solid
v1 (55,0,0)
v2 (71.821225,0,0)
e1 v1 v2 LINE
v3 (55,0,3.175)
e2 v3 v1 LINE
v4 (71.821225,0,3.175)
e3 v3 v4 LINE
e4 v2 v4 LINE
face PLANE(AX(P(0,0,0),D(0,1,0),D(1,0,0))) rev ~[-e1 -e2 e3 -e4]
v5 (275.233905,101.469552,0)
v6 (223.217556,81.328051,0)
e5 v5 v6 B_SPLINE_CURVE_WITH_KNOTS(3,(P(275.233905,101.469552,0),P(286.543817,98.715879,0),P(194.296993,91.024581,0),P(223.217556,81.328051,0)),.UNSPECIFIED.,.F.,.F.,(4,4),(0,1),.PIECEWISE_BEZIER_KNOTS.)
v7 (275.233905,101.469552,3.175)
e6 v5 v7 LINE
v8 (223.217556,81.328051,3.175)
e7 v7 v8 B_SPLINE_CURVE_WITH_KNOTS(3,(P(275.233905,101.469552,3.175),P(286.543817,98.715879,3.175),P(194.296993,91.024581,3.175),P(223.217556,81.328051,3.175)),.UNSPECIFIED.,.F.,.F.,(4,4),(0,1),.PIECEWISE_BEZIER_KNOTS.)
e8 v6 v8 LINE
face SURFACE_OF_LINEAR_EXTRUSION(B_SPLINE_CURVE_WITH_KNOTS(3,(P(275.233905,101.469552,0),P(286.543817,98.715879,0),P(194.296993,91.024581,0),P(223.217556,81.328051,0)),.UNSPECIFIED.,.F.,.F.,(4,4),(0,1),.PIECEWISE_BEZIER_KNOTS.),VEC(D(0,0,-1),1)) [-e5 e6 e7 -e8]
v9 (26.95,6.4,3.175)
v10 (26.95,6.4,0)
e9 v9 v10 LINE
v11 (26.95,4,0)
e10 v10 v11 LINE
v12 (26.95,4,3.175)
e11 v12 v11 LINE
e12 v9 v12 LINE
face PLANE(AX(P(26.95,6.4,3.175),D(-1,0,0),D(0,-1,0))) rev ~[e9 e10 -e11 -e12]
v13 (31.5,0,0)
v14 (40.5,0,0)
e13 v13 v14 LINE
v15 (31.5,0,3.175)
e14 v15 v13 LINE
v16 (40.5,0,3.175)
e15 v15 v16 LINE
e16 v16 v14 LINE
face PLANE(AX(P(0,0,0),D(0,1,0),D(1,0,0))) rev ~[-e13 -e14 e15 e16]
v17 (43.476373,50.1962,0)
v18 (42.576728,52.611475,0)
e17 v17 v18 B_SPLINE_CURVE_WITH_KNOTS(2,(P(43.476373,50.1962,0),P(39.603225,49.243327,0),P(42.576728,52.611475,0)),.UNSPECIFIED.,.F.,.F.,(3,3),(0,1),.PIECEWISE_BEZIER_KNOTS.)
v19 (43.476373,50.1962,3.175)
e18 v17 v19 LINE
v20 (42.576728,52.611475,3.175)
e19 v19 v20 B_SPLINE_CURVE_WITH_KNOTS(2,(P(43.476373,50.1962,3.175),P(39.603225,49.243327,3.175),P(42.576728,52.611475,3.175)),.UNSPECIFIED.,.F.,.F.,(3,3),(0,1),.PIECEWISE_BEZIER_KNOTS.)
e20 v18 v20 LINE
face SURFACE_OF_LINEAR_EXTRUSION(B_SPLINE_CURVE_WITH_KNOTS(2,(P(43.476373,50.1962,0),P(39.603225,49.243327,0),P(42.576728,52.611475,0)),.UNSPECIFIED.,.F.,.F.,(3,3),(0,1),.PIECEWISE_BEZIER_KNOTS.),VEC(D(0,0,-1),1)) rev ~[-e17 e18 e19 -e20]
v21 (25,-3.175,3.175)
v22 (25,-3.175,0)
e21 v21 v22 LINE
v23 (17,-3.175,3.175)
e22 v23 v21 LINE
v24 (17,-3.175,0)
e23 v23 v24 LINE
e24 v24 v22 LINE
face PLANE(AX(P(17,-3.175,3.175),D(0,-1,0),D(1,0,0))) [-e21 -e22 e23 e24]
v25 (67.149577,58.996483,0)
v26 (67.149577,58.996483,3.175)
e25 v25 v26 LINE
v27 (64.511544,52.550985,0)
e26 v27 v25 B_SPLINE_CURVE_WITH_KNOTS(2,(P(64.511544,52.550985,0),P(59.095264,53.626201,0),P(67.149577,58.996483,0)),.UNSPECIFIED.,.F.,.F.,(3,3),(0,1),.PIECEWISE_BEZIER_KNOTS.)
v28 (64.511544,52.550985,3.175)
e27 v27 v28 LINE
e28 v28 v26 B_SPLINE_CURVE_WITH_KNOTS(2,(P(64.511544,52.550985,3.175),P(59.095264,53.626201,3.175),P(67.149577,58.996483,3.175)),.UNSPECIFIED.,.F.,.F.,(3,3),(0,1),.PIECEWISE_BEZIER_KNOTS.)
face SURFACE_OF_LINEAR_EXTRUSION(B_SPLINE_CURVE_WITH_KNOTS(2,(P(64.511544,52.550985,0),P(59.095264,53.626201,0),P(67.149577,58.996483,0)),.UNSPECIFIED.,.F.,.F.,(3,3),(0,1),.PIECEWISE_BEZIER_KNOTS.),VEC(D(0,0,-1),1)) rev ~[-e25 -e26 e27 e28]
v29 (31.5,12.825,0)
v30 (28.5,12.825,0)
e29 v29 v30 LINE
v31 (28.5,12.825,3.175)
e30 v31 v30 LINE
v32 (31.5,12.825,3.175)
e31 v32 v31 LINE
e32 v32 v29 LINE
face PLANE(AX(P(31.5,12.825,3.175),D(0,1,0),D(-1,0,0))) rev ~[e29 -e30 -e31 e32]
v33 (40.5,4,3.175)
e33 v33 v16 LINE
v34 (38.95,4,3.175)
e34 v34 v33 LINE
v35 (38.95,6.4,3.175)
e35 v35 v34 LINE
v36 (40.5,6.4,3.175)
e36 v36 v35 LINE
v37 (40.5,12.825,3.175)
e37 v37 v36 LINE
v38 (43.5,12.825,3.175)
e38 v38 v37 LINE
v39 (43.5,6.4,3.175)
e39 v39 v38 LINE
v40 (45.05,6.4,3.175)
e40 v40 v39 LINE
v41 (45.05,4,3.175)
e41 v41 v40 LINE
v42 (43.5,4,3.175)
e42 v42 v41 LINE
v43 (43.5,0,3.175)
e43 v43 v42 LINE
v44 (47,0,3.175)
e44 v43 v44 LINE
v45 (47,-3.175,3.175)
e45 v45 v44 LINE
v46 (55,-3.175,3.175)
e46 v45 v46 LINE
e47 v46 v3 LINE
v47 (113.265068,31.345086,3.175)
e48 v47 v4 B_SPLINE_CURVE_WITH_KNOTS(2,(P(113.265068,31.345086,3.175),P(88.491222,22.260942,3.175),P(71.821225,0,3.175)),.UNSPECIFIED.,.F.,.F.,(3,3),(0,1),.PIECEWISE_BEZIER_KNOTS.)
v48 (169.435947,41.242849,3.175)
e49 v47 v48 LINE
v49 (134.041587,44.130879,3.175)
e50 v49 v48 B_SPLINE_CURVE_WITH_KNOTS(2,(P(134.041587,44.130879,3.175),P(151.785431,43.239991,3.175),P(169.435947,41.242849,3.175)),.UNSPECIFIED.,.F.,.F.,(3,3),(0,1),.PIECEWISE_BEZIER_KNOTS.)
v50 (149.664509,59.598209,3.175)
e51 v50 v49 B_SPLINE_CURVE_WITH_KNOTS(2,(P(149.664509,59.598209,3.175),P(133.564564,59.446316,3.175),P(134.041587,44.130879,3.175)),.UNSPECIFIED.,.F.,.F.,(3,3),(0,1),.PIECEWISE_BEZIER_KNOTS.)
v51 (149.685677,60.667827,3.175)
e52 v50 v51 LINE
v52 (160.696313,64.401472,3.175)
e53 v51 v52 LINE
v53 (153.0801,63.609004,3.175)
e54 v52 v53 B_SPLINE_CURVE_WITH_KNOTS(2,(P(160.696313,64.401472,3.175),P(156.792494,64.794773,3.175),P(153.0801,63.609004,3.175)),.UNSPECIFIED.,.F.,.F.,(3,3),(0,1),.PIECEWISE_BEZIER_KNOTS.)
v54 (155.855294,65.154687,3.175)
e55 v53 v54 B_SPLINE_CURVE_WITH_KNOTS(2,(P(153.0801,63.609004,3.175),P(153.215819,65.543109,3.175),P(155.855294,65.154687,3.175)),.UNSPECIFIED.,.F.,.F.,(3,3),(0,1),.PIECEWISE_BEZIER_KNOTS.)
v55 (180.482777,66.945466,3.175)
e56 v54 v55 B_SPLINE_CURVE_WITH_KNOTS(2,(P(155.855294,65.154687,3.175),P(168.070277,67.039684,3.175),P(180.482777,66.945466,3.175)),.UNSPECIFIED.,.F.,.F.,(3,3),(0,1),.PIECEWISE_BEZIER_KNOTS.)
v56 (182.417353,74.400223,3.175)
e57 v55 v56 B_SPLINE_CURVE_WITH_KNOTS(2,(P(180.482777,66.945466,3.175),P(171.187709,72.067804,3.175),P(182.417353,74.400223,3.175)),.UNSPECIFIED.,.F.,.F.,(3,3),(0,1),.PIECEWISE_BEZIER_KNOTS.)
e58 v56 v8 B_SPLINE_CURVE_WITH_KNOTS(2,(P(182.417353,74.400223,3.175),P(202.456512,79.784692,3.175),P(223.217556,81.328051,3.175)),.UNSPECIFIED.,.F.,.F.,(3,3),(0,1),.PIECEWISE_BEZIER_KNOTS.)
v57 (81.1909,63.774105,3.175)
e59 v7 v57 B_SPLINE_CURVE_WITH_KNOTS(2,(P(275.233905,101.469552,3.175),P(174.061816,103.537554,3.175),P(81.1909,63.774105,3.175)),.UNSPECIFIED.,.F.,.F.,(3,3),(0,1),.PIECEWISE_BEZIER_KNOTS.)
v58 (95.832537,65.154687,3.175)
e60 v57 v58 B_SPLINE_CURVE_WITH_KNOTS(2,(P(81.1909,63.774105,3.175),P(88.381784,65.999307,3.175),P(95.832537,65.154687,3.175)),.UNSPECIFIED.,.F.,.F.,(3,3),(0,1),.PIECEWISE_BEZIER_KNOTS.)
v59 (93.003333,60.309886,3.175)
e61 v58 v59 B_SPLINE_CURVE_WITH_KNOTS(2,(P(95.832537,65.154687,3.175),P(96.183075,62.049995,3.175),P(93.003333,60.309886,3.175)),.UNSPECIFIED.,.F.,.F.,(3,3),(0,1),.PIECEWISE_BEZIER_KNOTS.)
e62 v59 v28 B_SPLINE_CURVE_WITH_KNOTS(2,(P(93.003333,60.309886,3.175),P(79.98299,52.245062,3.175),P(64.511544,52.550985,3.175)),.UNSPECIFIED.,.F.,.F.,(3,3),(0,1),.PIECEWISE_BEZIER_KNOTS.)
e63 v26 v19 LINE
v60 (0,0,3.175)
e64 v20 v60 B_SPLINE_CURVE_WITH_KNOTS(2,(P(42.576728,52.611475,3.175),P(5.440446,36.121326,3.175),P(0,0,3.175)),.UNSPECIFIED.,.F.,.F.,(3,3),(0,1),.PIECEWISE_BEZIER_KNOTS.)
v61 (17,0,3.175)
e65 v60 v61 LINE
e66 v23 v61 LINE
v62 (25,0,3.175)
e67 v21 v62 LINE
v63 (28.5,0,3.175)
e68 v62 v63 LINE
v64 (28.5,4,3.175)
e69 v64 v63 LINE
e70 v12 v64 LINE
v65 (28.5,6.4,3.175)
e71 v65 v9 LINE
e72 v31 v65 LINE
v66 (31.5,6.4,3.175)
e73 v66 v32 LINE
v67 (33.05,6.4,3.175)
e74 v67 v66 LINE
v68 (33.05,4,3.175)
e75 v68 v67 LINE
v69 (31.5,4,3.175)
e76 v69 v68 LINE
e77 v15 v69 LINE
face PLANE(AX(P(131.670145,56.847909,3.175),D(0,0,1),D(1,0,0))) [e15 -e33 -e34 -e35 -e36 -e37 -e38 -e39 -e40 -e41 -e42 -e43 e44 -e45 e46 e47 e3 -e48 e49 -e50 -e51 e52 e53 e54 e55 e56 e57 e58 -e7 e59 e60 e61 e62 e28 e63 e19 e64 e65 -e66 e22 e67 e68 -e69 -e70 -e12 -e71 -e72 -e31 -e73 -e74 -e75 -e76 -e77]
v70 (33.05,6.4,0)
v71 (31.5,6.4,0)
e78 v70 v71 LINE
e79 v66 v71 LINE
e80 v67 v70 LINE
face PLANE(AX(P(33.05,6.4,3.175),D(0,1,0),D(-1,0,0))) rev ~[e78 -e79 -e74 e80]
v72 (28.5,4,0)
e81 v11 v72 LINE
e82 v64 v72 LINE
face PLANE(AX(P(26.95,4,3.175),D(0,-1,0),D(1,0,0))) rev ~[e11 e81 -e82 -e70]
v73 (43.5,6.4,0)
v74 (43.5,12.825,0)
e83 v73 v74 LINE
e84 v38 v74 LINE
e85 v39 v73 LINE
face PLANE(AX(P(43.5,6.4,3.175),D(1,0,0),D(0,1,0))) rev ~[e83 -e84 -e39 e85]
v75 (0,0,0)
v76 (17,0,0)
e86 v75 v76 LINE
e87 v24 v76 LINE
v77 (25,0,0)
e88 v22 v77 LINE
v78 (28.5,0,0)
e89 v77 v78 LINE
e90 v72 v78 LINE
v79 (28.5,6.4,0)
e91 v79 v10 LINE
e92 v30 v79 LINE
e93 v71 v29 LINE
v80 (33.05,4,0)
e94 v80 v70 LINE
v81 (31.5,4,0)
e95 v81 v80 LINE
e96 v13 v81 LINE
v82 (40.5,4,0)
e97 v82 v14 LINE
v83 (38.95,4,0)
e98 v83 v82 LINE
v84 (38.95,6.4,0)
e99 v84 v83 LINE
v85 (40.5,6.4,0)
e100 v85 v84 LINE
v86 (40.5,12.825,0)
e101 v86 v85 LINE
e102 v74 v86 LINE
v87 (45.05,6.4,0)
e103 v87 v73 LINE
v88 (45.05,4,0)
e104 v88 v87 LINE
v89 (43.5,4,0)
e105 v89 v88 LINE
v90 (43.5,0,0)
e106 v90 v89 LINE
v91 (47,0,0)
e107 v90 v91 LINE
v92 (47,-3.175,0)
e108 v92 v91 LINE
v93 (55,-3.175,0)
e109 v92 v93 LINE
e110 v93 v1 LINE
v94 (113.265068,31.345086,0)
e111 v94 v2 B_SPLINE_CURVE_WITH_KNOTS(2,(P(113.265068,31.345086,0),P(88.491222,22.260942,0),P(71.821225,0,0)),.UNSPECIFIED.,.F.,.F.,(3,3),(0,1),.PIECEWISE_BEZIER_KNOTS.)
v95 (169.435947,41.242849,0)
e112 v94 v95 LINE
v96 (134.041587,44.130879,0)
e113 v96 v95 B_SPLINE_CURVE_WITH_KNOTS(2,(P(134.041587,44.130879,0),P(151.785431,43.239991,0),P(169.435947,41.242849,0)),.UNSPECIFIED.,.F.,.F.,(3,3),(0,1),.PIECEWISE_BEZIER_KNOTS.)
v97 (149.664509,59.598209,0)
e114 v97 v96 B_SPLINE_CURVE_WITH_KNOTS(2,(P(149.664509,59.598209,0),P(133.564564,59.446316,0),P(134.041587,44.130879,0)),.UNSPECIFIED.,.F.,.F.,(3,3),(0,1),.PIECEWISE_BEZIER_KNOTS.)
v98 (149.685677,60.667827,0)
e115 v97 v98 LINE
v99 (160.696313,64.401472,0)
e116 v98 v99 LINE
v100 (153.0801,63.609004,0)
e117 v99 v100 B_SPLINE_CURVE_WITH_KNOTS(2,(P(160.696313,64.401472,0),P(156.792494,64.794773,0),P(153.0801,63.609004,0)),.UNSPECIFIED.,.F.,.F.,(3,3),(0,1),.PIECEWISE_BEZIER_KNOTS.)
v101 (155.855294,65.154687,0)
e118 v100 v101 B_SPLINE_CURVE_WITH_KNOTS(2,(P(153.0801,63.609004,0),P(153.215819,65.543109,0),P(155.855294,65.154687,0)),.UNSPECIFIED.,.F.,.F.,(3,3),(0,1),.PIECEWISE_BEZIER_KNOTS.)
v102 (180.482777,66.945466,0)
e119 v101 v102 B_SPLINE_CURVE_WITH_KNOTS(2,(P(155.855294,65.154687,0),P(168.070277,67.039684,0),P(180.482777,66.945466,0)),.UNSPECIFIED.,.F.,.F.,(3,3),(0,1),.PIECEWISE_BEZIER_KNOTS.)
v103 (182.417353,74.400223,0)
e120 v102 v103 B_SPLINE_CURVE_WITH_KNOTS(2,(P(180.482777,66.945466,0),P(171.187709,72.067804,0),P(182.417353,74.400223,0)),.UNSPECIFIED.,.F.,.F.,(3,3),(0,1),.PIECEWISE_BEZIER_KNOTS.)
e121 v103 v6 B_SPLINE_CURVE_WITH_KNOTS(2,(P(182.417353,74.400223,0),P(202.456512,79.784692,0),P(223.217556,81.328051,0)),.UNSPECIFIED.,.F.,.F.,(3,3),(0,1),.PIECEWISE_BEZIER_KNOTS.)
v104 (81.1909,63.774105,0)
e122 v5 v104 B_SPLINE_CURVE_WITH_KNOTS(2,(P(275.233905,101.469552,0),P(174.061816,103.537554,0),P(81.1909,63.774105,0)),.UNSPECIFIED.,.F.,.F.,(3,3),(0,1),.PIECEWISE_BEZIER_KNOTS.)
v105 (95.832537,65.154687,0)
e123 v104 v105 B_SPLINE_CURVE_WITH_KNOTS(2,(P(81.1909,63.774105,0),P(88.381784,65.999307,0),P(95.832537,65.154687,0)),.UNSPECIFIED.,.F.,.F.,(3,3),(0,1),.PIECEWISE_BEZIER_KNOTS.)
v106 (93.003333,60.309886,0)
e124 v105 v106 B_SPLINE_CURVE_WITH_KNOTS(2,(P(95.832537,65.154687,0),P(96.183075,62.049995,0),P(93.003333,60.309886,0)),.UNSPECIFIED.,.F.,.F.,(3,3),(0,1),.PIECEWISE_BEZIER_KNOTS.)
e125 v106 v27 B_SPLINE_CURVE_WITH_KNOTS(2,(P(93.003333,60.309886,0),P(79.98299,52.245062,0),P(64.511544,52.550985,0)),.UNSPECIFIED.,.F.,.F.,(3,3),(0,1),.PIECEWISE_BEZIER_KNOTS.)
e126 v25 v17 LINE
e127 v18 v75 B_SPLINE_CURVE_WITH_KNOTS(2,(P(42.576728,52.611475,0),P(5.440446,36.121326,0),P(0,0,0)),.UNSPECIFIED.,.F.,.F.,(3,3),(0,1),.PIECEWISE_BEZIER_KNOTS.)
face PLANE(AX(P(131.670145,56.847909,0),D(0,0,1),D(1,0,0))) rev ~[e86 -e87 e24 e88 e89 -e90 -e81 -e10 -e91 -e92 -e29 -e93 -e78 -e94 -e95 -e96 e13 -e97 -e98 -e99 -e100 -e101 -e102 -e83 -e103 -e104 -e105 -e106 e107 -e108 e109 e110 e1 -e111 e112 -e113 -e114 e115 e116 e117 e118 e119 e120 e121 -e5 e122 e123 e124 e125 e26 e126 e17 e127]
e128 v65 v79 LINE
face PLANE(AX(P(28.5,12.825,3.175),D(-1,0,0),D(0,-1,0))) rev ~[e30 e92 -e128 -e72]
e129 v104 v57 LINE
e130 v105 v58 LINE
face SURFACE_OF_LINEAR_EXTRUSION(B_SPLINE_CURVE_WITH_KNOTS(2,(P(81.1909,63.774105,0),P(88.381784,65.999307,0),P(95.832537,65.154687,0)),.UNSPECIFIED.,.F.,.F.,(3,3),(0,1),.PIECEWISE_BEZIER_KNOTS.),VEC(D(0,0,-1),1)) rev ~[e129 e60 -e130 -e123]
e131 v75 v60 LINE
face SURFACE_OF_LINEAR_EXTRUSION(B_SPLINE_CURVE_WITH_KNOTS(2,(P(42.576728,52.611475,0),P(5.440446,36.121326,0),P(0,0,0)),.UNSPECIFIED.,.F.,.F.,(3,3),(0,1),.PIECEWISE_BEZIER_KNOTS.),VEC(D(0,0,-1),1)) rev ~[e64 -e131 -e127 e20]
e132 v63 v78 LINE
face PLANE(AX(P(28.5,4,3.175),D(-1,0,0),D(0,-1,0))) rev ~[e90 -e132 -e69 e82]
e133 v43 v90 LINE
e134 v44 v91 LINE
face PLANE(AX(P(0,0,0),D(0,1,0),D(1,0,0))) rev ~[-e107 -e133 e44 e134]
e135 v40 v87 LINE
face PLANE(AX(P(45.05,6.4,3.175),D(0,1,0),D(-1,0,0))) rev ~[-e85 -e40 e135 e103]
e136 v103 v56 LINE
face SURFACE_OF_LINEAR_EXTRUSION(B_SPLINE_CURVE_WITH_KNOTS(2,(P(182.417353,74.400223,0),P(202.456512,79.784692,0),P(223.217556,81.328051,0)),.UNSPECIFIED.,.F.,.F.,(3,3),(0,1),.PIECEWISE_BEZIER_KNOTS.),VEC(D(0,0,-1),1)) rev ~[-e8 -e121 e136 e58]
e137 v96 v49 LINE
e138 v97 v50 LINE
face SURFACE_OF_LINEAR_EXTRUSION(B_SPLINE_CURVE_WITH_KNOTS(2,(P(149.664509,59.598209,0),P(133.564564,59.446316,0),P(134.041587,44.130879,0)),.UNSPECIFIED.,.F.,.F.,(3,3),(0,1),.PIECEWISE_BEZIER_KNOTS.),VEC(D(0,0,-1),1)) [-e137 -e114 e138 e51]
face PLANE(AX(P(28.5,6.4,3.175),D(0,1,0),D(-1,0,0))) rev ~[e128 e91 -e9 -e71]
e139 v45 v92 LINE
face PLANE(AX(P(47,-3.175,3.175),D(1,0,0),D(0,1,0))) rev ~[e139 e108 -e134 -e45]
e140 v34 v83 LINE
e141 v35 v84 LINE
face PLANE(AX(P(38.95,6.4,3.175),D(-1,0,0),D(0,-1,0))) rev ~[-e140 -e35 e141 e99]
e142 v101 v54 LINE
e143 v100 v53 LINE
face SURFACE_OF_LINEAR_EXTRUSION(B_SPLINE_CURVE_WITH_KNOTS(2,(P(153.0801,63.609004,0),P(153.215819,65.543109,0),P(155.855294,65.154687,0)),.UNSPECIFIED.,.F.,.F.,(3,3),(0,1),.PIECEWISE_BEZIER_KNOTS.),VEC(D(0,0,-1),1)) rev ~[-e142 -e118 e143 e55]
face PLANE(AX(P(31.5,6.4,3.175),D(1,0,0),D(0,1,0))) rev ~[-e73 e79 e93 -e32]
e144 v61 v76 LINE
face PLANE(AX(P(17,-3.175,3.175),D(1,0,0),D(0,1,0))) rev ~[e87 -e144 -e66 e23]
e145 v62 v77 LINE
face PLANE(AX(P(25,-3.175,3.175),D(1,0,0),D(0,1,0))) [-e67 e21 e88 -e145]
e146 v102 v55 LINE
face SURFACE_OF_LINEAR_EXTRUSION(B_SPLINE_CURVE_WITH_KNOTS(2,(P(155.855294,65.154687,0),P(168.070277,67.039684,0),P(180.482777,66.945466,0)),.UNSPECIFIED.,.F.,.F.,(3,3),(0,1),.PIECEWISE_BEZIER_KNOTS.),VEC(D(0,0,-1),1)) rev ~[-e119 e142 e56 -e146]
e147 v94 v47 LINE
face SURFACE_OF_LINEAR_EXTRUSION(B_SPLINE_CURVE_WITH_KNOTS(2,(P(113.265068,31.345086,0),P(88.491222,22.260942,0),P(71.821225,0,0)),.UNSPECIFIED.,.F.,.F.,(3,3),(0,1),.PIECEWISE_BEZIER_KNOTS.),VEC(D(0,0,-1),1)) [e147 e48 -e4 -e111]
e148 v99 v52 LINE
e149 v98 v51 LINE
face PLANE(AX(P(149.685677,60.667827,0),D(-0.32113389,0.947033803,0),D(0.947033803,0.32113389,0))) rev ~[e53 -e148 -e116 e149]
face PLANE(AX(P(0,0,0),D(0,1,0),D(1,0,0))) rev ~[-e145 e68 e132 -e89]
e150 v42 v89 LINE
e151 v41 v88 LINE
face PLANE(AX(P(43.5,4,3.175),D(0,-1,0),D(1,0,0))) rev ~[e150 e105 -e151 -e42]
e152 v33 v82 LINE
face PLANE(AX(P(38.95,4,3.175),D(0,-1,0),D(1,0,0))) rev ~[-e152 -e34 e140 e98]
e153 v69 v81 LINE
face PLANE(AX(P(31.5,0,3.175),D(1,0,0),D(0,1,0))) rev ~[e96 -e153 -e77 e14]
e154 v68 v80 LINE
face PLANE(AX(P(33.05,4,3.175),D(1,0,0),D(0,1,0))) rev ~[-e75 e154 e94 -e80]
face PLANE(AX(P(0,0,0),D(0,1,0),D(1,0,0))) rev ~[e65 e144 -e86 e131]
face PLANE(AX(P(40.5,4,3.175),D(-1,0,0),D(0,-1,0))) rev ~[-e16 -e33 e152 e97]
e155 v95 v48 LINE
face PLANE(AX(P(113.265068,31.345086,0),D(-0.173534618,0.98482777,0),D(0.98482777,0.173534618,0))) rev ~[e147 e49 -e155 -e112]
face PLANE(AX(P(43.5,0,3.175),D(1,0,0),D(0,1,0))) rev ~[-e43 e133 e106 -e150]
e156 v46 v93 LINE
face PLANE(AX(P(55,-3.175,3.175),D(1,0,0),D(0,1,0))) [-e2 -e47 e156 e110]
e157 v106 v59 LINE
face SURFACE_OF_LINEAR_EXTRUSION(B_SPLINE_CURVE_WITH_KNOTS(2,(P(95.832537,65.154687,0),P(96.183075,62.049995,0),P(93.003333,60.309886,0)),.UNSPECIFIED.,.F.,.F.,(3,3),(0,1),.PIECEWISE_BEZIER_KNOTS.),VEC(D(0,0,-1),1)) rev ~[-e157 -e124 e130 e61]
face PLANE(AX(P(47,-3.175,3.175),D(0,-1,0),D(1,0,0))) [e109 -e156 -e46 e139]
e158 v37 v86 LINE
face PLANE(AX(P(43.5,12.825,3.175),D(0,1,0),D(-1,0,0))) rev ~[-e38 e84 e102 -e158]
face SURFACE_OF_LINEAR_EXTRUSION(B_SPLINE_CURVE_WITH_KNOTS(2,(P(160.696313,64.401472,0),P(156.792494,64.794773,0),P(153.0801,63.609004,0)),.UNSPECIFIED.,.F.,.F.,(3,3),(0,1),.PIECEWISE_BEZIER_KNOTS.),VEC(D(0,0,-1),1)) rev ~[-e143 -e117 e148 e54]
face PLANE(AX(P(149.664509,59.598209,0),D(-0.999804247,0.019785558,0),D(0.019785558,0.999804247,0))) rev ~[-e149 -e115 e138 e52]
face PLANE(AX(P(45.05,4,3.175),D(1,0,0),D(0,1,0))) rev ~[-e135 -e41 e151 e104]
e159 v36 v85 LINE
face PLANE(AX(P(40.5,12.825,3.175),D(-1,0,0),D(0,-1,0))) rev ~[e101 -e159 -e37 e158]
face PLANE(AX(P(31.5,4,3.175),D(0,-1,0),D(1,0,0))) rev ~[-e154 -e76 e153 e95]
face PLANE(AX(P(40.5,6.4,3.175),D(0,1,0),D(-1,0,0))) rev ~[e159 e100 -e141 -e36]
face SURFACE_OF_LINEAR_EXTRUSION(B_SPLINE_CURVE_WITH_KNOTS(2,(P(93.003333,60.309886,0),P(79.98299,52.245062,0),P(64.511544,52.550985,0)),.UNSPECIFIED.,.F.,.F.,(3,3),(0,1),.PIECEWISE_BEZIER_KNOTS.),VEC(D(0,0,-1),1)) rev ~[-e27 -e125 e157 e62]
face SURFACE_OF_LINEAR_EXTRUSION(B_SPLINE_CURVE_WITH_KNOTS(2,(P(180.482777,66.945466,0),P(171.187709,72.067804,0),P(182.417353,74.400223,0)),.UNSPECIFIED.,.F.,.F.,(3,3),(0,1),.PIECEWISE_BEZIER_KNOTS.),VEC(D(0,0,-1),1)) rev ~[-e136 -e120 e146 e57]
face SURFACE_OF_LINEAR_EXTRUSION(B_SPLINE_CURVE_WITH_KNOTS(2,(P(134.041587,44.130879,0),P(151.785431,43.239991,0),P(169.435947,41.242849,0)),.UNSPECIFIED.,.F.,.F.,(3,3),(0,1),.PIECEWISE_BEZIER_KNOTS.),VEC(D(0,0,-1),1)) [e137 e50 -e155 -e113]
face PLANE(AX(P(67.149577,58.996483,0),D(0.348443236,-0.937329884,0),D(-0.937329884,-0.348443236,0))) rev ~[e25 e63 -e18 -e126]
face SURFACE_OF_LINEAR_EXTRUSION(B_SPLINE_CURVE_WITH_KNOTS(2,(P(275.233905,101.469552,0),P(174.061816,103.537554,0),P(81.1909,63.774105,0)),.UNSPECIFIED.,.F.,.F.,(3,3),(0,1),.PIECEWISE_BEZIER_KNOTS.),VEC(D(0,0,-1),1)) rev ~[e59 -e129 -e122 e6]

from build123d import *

# Parameters (mm, degrees)
BOSS_EXTRUDE1_DEPTH = 3.175
SKETCH3_W           = 8
SKETCH3_H           = 3.175
BOSS_EXTRUDE2_DEPTH = 3.175
CUT_EXTRUDE1_DEPTH  = 295.302026077


with BuildPart() as part:
    # Sketch2 → Boss-Extrude1 (new body)
    with BuildSketch(Plane.XY):
        with BuildLine():
            Line((0, 0), (71.821224644, 0))
            add(Edge.make_bspline(
                [(113.265068403, 31.345085694), (88.49122235, 22.260941948), (71.821224644, 0)],
                knots=[0, 0, 0, 1, 1, 1], degree=2))
            Line((113.265068403, 31.345085694), (169.435947463, 41.242848876))
            add(Edge.make_bspline(
                [(134.041587412, 44.130878692), (151.78543129, 43.239991284), (169.435947463, 41.242848876)],
                knots=[0, 0, 0, 1, 1, 1], degree=2))
            add(Edge.make_bspline(
                [(149.664509426, 59.598208841), (133.564564098, 59.446315657), (134.041587412, 44.130878692)],
                knots=[0, 0, 0, 1, 1, 1], degree=2))
            Line((149.664509426, 59.598208841), (149.685676558, 60.6678268))
            Line((149.685676558, 60.6678268), (160.696312712, 64.401472217))
            add(Edge.make_bspline(
                [(160.696312712, 64.401472217), (156.792494019, 64.794773064), (153.080099679, 63.60900386)],
                knots=[0, 0, 0, 1, 1, 1], degree=2))
            add(Edge.make_bspline(
                [(153.080099679, 63.60900386), (153.21581852, 65.543109048), (155.855294119, 65.154686594)],
                knots=[0, 0, 0, 1, 1, 1], degree=2))
            add(Edge.make_bspline(
                [(155.855294119, 65.154686594), (168.070276532, 67.039683705), (180.482777211, 66.945466473)],
                knots=[0, 0, 0, 1, 1, 1], degree=2))
            add(Edge.make_bspline(
                [(180.482777211, 66.945466473), (171.187708605, 72.067803505), (182.417352528, 74.400222782)],
                knots=[0, 0, 0, 1, 1, 1], degree=2))
            add(Edge.make_bspline(
                [(182.417352528, 74.400222782), (202.456511943, 79.784692432), (223.217555695, 81.328050857)],
                knots=[0, 0, 0, 1, 1, 1], degree=2))
            add(Edge.make_bspline(
                [(275.233904512, 101.469551945), (286.543816843, 98.715878969), (194.296992898, 91.024580871), (223.217555695, 81.328050857)],
                knots=[0, 0, 0, 0, 1, 1, 1, 1], degree=3))
            add(Edge.make_bspline(
                [(275.233904512, 101.469551945), (174.061816158, 103.537553967), (81.190900328, 63.774105239)],
                knots=[0, 0, 0, 1, 1, 1], degree=2))
            add(Edge.make_bspline(
                [(81.190900328, 63.774105239), (88.381783724, 65.999307209), (95.832537282, 65.154686594)],
                knots=[0, 0, 0, 1, 1, 1], degree=2))
            add(Edge.make_bspline(
                [(95.832537282, 65.154686594), (96.183075401, 62.049994654), (93.003333324, 60.309886397)],
                knots=[0, 0, 0, 1, 1, 1], degree=2))
            add(Edge.make_bspline(
                [(93.003333324, 60.309886397), (79.982990497, 52.245061614), (64.511543782, 52.550984526)],
                knots=[0, 0, 0, 1, 1, 1], degree=2))
            add(Edge.make_bspline(
                [(64.511543782, 52.550984526), (59.095264392, 53.626200699), (67.149577001, 58.996482621)],
                knots=[0, 0, 0, 1, 1, 1], degree=2))
            Line((67.149577001, 58.996482621), (43.476372801, 50.196200023))
            add(Edge.make_bspline(
                [(43.476372801, 50.196200023), (39.603225427, 49.243326926), (42.576727954, 52.611474892)],
                knots=[0, 0, 0, 1, 1, 1], degree=2))
            add(Edge.make_bspline(
                [(42.576727954, 52.611474892), (5.440445948, 36.121326287), (0, 0)],
                knots=[0, 0, 0, 1, 1, 1], degree=2))
        make_face()
    extrude(amount=BOSS_EXTRUDE1_DEPTH)

    # Sketch3 → Boss-Extrude2 (add)
    with BuildSketch(Plane.XY.offset(3.175)):
        with Locations((21, -1.5875)):
            Rectangle(SKETCH3_W, SKETCH3_H)
        with Locations((51, -1.5875)):
            Rectangle(SKETCH3_W, SKETCH3_H)
    extrude(amount=-BOSS_EXTRUDE2_DEPTH)

    # Sketch4 → Cut-Extrude1 (cut, through all)
    with BuildSketch(Plane.XY.offset(3.175)):
        Polygon((28.5, 4), (28.5, 0), (31.5, 0), (31.5, 4), (33.05, 4), (33.05, 6.4), (31.5, 6.4), (31.5, 12.825), (28.5, 12.825), (28.5, 6.4), (26.95, 6.4), (26.95, 4), align=None)
        Polygon((40.5, 4), (40.5, 0), (43.5, 0), (43.5, 4), (45.05, 4), (45.05, 6.4), (43.5, 6.4), (43.5, 12.825), (40.5, 12.825), (40.5, 6.4), (38.95, 6.4), (38.95, 4), align=None)
    extrude(amount=-CUT_EXTRUDE1_DEPTH, mode=Mode.SUBTRACT)


solid = part.part
